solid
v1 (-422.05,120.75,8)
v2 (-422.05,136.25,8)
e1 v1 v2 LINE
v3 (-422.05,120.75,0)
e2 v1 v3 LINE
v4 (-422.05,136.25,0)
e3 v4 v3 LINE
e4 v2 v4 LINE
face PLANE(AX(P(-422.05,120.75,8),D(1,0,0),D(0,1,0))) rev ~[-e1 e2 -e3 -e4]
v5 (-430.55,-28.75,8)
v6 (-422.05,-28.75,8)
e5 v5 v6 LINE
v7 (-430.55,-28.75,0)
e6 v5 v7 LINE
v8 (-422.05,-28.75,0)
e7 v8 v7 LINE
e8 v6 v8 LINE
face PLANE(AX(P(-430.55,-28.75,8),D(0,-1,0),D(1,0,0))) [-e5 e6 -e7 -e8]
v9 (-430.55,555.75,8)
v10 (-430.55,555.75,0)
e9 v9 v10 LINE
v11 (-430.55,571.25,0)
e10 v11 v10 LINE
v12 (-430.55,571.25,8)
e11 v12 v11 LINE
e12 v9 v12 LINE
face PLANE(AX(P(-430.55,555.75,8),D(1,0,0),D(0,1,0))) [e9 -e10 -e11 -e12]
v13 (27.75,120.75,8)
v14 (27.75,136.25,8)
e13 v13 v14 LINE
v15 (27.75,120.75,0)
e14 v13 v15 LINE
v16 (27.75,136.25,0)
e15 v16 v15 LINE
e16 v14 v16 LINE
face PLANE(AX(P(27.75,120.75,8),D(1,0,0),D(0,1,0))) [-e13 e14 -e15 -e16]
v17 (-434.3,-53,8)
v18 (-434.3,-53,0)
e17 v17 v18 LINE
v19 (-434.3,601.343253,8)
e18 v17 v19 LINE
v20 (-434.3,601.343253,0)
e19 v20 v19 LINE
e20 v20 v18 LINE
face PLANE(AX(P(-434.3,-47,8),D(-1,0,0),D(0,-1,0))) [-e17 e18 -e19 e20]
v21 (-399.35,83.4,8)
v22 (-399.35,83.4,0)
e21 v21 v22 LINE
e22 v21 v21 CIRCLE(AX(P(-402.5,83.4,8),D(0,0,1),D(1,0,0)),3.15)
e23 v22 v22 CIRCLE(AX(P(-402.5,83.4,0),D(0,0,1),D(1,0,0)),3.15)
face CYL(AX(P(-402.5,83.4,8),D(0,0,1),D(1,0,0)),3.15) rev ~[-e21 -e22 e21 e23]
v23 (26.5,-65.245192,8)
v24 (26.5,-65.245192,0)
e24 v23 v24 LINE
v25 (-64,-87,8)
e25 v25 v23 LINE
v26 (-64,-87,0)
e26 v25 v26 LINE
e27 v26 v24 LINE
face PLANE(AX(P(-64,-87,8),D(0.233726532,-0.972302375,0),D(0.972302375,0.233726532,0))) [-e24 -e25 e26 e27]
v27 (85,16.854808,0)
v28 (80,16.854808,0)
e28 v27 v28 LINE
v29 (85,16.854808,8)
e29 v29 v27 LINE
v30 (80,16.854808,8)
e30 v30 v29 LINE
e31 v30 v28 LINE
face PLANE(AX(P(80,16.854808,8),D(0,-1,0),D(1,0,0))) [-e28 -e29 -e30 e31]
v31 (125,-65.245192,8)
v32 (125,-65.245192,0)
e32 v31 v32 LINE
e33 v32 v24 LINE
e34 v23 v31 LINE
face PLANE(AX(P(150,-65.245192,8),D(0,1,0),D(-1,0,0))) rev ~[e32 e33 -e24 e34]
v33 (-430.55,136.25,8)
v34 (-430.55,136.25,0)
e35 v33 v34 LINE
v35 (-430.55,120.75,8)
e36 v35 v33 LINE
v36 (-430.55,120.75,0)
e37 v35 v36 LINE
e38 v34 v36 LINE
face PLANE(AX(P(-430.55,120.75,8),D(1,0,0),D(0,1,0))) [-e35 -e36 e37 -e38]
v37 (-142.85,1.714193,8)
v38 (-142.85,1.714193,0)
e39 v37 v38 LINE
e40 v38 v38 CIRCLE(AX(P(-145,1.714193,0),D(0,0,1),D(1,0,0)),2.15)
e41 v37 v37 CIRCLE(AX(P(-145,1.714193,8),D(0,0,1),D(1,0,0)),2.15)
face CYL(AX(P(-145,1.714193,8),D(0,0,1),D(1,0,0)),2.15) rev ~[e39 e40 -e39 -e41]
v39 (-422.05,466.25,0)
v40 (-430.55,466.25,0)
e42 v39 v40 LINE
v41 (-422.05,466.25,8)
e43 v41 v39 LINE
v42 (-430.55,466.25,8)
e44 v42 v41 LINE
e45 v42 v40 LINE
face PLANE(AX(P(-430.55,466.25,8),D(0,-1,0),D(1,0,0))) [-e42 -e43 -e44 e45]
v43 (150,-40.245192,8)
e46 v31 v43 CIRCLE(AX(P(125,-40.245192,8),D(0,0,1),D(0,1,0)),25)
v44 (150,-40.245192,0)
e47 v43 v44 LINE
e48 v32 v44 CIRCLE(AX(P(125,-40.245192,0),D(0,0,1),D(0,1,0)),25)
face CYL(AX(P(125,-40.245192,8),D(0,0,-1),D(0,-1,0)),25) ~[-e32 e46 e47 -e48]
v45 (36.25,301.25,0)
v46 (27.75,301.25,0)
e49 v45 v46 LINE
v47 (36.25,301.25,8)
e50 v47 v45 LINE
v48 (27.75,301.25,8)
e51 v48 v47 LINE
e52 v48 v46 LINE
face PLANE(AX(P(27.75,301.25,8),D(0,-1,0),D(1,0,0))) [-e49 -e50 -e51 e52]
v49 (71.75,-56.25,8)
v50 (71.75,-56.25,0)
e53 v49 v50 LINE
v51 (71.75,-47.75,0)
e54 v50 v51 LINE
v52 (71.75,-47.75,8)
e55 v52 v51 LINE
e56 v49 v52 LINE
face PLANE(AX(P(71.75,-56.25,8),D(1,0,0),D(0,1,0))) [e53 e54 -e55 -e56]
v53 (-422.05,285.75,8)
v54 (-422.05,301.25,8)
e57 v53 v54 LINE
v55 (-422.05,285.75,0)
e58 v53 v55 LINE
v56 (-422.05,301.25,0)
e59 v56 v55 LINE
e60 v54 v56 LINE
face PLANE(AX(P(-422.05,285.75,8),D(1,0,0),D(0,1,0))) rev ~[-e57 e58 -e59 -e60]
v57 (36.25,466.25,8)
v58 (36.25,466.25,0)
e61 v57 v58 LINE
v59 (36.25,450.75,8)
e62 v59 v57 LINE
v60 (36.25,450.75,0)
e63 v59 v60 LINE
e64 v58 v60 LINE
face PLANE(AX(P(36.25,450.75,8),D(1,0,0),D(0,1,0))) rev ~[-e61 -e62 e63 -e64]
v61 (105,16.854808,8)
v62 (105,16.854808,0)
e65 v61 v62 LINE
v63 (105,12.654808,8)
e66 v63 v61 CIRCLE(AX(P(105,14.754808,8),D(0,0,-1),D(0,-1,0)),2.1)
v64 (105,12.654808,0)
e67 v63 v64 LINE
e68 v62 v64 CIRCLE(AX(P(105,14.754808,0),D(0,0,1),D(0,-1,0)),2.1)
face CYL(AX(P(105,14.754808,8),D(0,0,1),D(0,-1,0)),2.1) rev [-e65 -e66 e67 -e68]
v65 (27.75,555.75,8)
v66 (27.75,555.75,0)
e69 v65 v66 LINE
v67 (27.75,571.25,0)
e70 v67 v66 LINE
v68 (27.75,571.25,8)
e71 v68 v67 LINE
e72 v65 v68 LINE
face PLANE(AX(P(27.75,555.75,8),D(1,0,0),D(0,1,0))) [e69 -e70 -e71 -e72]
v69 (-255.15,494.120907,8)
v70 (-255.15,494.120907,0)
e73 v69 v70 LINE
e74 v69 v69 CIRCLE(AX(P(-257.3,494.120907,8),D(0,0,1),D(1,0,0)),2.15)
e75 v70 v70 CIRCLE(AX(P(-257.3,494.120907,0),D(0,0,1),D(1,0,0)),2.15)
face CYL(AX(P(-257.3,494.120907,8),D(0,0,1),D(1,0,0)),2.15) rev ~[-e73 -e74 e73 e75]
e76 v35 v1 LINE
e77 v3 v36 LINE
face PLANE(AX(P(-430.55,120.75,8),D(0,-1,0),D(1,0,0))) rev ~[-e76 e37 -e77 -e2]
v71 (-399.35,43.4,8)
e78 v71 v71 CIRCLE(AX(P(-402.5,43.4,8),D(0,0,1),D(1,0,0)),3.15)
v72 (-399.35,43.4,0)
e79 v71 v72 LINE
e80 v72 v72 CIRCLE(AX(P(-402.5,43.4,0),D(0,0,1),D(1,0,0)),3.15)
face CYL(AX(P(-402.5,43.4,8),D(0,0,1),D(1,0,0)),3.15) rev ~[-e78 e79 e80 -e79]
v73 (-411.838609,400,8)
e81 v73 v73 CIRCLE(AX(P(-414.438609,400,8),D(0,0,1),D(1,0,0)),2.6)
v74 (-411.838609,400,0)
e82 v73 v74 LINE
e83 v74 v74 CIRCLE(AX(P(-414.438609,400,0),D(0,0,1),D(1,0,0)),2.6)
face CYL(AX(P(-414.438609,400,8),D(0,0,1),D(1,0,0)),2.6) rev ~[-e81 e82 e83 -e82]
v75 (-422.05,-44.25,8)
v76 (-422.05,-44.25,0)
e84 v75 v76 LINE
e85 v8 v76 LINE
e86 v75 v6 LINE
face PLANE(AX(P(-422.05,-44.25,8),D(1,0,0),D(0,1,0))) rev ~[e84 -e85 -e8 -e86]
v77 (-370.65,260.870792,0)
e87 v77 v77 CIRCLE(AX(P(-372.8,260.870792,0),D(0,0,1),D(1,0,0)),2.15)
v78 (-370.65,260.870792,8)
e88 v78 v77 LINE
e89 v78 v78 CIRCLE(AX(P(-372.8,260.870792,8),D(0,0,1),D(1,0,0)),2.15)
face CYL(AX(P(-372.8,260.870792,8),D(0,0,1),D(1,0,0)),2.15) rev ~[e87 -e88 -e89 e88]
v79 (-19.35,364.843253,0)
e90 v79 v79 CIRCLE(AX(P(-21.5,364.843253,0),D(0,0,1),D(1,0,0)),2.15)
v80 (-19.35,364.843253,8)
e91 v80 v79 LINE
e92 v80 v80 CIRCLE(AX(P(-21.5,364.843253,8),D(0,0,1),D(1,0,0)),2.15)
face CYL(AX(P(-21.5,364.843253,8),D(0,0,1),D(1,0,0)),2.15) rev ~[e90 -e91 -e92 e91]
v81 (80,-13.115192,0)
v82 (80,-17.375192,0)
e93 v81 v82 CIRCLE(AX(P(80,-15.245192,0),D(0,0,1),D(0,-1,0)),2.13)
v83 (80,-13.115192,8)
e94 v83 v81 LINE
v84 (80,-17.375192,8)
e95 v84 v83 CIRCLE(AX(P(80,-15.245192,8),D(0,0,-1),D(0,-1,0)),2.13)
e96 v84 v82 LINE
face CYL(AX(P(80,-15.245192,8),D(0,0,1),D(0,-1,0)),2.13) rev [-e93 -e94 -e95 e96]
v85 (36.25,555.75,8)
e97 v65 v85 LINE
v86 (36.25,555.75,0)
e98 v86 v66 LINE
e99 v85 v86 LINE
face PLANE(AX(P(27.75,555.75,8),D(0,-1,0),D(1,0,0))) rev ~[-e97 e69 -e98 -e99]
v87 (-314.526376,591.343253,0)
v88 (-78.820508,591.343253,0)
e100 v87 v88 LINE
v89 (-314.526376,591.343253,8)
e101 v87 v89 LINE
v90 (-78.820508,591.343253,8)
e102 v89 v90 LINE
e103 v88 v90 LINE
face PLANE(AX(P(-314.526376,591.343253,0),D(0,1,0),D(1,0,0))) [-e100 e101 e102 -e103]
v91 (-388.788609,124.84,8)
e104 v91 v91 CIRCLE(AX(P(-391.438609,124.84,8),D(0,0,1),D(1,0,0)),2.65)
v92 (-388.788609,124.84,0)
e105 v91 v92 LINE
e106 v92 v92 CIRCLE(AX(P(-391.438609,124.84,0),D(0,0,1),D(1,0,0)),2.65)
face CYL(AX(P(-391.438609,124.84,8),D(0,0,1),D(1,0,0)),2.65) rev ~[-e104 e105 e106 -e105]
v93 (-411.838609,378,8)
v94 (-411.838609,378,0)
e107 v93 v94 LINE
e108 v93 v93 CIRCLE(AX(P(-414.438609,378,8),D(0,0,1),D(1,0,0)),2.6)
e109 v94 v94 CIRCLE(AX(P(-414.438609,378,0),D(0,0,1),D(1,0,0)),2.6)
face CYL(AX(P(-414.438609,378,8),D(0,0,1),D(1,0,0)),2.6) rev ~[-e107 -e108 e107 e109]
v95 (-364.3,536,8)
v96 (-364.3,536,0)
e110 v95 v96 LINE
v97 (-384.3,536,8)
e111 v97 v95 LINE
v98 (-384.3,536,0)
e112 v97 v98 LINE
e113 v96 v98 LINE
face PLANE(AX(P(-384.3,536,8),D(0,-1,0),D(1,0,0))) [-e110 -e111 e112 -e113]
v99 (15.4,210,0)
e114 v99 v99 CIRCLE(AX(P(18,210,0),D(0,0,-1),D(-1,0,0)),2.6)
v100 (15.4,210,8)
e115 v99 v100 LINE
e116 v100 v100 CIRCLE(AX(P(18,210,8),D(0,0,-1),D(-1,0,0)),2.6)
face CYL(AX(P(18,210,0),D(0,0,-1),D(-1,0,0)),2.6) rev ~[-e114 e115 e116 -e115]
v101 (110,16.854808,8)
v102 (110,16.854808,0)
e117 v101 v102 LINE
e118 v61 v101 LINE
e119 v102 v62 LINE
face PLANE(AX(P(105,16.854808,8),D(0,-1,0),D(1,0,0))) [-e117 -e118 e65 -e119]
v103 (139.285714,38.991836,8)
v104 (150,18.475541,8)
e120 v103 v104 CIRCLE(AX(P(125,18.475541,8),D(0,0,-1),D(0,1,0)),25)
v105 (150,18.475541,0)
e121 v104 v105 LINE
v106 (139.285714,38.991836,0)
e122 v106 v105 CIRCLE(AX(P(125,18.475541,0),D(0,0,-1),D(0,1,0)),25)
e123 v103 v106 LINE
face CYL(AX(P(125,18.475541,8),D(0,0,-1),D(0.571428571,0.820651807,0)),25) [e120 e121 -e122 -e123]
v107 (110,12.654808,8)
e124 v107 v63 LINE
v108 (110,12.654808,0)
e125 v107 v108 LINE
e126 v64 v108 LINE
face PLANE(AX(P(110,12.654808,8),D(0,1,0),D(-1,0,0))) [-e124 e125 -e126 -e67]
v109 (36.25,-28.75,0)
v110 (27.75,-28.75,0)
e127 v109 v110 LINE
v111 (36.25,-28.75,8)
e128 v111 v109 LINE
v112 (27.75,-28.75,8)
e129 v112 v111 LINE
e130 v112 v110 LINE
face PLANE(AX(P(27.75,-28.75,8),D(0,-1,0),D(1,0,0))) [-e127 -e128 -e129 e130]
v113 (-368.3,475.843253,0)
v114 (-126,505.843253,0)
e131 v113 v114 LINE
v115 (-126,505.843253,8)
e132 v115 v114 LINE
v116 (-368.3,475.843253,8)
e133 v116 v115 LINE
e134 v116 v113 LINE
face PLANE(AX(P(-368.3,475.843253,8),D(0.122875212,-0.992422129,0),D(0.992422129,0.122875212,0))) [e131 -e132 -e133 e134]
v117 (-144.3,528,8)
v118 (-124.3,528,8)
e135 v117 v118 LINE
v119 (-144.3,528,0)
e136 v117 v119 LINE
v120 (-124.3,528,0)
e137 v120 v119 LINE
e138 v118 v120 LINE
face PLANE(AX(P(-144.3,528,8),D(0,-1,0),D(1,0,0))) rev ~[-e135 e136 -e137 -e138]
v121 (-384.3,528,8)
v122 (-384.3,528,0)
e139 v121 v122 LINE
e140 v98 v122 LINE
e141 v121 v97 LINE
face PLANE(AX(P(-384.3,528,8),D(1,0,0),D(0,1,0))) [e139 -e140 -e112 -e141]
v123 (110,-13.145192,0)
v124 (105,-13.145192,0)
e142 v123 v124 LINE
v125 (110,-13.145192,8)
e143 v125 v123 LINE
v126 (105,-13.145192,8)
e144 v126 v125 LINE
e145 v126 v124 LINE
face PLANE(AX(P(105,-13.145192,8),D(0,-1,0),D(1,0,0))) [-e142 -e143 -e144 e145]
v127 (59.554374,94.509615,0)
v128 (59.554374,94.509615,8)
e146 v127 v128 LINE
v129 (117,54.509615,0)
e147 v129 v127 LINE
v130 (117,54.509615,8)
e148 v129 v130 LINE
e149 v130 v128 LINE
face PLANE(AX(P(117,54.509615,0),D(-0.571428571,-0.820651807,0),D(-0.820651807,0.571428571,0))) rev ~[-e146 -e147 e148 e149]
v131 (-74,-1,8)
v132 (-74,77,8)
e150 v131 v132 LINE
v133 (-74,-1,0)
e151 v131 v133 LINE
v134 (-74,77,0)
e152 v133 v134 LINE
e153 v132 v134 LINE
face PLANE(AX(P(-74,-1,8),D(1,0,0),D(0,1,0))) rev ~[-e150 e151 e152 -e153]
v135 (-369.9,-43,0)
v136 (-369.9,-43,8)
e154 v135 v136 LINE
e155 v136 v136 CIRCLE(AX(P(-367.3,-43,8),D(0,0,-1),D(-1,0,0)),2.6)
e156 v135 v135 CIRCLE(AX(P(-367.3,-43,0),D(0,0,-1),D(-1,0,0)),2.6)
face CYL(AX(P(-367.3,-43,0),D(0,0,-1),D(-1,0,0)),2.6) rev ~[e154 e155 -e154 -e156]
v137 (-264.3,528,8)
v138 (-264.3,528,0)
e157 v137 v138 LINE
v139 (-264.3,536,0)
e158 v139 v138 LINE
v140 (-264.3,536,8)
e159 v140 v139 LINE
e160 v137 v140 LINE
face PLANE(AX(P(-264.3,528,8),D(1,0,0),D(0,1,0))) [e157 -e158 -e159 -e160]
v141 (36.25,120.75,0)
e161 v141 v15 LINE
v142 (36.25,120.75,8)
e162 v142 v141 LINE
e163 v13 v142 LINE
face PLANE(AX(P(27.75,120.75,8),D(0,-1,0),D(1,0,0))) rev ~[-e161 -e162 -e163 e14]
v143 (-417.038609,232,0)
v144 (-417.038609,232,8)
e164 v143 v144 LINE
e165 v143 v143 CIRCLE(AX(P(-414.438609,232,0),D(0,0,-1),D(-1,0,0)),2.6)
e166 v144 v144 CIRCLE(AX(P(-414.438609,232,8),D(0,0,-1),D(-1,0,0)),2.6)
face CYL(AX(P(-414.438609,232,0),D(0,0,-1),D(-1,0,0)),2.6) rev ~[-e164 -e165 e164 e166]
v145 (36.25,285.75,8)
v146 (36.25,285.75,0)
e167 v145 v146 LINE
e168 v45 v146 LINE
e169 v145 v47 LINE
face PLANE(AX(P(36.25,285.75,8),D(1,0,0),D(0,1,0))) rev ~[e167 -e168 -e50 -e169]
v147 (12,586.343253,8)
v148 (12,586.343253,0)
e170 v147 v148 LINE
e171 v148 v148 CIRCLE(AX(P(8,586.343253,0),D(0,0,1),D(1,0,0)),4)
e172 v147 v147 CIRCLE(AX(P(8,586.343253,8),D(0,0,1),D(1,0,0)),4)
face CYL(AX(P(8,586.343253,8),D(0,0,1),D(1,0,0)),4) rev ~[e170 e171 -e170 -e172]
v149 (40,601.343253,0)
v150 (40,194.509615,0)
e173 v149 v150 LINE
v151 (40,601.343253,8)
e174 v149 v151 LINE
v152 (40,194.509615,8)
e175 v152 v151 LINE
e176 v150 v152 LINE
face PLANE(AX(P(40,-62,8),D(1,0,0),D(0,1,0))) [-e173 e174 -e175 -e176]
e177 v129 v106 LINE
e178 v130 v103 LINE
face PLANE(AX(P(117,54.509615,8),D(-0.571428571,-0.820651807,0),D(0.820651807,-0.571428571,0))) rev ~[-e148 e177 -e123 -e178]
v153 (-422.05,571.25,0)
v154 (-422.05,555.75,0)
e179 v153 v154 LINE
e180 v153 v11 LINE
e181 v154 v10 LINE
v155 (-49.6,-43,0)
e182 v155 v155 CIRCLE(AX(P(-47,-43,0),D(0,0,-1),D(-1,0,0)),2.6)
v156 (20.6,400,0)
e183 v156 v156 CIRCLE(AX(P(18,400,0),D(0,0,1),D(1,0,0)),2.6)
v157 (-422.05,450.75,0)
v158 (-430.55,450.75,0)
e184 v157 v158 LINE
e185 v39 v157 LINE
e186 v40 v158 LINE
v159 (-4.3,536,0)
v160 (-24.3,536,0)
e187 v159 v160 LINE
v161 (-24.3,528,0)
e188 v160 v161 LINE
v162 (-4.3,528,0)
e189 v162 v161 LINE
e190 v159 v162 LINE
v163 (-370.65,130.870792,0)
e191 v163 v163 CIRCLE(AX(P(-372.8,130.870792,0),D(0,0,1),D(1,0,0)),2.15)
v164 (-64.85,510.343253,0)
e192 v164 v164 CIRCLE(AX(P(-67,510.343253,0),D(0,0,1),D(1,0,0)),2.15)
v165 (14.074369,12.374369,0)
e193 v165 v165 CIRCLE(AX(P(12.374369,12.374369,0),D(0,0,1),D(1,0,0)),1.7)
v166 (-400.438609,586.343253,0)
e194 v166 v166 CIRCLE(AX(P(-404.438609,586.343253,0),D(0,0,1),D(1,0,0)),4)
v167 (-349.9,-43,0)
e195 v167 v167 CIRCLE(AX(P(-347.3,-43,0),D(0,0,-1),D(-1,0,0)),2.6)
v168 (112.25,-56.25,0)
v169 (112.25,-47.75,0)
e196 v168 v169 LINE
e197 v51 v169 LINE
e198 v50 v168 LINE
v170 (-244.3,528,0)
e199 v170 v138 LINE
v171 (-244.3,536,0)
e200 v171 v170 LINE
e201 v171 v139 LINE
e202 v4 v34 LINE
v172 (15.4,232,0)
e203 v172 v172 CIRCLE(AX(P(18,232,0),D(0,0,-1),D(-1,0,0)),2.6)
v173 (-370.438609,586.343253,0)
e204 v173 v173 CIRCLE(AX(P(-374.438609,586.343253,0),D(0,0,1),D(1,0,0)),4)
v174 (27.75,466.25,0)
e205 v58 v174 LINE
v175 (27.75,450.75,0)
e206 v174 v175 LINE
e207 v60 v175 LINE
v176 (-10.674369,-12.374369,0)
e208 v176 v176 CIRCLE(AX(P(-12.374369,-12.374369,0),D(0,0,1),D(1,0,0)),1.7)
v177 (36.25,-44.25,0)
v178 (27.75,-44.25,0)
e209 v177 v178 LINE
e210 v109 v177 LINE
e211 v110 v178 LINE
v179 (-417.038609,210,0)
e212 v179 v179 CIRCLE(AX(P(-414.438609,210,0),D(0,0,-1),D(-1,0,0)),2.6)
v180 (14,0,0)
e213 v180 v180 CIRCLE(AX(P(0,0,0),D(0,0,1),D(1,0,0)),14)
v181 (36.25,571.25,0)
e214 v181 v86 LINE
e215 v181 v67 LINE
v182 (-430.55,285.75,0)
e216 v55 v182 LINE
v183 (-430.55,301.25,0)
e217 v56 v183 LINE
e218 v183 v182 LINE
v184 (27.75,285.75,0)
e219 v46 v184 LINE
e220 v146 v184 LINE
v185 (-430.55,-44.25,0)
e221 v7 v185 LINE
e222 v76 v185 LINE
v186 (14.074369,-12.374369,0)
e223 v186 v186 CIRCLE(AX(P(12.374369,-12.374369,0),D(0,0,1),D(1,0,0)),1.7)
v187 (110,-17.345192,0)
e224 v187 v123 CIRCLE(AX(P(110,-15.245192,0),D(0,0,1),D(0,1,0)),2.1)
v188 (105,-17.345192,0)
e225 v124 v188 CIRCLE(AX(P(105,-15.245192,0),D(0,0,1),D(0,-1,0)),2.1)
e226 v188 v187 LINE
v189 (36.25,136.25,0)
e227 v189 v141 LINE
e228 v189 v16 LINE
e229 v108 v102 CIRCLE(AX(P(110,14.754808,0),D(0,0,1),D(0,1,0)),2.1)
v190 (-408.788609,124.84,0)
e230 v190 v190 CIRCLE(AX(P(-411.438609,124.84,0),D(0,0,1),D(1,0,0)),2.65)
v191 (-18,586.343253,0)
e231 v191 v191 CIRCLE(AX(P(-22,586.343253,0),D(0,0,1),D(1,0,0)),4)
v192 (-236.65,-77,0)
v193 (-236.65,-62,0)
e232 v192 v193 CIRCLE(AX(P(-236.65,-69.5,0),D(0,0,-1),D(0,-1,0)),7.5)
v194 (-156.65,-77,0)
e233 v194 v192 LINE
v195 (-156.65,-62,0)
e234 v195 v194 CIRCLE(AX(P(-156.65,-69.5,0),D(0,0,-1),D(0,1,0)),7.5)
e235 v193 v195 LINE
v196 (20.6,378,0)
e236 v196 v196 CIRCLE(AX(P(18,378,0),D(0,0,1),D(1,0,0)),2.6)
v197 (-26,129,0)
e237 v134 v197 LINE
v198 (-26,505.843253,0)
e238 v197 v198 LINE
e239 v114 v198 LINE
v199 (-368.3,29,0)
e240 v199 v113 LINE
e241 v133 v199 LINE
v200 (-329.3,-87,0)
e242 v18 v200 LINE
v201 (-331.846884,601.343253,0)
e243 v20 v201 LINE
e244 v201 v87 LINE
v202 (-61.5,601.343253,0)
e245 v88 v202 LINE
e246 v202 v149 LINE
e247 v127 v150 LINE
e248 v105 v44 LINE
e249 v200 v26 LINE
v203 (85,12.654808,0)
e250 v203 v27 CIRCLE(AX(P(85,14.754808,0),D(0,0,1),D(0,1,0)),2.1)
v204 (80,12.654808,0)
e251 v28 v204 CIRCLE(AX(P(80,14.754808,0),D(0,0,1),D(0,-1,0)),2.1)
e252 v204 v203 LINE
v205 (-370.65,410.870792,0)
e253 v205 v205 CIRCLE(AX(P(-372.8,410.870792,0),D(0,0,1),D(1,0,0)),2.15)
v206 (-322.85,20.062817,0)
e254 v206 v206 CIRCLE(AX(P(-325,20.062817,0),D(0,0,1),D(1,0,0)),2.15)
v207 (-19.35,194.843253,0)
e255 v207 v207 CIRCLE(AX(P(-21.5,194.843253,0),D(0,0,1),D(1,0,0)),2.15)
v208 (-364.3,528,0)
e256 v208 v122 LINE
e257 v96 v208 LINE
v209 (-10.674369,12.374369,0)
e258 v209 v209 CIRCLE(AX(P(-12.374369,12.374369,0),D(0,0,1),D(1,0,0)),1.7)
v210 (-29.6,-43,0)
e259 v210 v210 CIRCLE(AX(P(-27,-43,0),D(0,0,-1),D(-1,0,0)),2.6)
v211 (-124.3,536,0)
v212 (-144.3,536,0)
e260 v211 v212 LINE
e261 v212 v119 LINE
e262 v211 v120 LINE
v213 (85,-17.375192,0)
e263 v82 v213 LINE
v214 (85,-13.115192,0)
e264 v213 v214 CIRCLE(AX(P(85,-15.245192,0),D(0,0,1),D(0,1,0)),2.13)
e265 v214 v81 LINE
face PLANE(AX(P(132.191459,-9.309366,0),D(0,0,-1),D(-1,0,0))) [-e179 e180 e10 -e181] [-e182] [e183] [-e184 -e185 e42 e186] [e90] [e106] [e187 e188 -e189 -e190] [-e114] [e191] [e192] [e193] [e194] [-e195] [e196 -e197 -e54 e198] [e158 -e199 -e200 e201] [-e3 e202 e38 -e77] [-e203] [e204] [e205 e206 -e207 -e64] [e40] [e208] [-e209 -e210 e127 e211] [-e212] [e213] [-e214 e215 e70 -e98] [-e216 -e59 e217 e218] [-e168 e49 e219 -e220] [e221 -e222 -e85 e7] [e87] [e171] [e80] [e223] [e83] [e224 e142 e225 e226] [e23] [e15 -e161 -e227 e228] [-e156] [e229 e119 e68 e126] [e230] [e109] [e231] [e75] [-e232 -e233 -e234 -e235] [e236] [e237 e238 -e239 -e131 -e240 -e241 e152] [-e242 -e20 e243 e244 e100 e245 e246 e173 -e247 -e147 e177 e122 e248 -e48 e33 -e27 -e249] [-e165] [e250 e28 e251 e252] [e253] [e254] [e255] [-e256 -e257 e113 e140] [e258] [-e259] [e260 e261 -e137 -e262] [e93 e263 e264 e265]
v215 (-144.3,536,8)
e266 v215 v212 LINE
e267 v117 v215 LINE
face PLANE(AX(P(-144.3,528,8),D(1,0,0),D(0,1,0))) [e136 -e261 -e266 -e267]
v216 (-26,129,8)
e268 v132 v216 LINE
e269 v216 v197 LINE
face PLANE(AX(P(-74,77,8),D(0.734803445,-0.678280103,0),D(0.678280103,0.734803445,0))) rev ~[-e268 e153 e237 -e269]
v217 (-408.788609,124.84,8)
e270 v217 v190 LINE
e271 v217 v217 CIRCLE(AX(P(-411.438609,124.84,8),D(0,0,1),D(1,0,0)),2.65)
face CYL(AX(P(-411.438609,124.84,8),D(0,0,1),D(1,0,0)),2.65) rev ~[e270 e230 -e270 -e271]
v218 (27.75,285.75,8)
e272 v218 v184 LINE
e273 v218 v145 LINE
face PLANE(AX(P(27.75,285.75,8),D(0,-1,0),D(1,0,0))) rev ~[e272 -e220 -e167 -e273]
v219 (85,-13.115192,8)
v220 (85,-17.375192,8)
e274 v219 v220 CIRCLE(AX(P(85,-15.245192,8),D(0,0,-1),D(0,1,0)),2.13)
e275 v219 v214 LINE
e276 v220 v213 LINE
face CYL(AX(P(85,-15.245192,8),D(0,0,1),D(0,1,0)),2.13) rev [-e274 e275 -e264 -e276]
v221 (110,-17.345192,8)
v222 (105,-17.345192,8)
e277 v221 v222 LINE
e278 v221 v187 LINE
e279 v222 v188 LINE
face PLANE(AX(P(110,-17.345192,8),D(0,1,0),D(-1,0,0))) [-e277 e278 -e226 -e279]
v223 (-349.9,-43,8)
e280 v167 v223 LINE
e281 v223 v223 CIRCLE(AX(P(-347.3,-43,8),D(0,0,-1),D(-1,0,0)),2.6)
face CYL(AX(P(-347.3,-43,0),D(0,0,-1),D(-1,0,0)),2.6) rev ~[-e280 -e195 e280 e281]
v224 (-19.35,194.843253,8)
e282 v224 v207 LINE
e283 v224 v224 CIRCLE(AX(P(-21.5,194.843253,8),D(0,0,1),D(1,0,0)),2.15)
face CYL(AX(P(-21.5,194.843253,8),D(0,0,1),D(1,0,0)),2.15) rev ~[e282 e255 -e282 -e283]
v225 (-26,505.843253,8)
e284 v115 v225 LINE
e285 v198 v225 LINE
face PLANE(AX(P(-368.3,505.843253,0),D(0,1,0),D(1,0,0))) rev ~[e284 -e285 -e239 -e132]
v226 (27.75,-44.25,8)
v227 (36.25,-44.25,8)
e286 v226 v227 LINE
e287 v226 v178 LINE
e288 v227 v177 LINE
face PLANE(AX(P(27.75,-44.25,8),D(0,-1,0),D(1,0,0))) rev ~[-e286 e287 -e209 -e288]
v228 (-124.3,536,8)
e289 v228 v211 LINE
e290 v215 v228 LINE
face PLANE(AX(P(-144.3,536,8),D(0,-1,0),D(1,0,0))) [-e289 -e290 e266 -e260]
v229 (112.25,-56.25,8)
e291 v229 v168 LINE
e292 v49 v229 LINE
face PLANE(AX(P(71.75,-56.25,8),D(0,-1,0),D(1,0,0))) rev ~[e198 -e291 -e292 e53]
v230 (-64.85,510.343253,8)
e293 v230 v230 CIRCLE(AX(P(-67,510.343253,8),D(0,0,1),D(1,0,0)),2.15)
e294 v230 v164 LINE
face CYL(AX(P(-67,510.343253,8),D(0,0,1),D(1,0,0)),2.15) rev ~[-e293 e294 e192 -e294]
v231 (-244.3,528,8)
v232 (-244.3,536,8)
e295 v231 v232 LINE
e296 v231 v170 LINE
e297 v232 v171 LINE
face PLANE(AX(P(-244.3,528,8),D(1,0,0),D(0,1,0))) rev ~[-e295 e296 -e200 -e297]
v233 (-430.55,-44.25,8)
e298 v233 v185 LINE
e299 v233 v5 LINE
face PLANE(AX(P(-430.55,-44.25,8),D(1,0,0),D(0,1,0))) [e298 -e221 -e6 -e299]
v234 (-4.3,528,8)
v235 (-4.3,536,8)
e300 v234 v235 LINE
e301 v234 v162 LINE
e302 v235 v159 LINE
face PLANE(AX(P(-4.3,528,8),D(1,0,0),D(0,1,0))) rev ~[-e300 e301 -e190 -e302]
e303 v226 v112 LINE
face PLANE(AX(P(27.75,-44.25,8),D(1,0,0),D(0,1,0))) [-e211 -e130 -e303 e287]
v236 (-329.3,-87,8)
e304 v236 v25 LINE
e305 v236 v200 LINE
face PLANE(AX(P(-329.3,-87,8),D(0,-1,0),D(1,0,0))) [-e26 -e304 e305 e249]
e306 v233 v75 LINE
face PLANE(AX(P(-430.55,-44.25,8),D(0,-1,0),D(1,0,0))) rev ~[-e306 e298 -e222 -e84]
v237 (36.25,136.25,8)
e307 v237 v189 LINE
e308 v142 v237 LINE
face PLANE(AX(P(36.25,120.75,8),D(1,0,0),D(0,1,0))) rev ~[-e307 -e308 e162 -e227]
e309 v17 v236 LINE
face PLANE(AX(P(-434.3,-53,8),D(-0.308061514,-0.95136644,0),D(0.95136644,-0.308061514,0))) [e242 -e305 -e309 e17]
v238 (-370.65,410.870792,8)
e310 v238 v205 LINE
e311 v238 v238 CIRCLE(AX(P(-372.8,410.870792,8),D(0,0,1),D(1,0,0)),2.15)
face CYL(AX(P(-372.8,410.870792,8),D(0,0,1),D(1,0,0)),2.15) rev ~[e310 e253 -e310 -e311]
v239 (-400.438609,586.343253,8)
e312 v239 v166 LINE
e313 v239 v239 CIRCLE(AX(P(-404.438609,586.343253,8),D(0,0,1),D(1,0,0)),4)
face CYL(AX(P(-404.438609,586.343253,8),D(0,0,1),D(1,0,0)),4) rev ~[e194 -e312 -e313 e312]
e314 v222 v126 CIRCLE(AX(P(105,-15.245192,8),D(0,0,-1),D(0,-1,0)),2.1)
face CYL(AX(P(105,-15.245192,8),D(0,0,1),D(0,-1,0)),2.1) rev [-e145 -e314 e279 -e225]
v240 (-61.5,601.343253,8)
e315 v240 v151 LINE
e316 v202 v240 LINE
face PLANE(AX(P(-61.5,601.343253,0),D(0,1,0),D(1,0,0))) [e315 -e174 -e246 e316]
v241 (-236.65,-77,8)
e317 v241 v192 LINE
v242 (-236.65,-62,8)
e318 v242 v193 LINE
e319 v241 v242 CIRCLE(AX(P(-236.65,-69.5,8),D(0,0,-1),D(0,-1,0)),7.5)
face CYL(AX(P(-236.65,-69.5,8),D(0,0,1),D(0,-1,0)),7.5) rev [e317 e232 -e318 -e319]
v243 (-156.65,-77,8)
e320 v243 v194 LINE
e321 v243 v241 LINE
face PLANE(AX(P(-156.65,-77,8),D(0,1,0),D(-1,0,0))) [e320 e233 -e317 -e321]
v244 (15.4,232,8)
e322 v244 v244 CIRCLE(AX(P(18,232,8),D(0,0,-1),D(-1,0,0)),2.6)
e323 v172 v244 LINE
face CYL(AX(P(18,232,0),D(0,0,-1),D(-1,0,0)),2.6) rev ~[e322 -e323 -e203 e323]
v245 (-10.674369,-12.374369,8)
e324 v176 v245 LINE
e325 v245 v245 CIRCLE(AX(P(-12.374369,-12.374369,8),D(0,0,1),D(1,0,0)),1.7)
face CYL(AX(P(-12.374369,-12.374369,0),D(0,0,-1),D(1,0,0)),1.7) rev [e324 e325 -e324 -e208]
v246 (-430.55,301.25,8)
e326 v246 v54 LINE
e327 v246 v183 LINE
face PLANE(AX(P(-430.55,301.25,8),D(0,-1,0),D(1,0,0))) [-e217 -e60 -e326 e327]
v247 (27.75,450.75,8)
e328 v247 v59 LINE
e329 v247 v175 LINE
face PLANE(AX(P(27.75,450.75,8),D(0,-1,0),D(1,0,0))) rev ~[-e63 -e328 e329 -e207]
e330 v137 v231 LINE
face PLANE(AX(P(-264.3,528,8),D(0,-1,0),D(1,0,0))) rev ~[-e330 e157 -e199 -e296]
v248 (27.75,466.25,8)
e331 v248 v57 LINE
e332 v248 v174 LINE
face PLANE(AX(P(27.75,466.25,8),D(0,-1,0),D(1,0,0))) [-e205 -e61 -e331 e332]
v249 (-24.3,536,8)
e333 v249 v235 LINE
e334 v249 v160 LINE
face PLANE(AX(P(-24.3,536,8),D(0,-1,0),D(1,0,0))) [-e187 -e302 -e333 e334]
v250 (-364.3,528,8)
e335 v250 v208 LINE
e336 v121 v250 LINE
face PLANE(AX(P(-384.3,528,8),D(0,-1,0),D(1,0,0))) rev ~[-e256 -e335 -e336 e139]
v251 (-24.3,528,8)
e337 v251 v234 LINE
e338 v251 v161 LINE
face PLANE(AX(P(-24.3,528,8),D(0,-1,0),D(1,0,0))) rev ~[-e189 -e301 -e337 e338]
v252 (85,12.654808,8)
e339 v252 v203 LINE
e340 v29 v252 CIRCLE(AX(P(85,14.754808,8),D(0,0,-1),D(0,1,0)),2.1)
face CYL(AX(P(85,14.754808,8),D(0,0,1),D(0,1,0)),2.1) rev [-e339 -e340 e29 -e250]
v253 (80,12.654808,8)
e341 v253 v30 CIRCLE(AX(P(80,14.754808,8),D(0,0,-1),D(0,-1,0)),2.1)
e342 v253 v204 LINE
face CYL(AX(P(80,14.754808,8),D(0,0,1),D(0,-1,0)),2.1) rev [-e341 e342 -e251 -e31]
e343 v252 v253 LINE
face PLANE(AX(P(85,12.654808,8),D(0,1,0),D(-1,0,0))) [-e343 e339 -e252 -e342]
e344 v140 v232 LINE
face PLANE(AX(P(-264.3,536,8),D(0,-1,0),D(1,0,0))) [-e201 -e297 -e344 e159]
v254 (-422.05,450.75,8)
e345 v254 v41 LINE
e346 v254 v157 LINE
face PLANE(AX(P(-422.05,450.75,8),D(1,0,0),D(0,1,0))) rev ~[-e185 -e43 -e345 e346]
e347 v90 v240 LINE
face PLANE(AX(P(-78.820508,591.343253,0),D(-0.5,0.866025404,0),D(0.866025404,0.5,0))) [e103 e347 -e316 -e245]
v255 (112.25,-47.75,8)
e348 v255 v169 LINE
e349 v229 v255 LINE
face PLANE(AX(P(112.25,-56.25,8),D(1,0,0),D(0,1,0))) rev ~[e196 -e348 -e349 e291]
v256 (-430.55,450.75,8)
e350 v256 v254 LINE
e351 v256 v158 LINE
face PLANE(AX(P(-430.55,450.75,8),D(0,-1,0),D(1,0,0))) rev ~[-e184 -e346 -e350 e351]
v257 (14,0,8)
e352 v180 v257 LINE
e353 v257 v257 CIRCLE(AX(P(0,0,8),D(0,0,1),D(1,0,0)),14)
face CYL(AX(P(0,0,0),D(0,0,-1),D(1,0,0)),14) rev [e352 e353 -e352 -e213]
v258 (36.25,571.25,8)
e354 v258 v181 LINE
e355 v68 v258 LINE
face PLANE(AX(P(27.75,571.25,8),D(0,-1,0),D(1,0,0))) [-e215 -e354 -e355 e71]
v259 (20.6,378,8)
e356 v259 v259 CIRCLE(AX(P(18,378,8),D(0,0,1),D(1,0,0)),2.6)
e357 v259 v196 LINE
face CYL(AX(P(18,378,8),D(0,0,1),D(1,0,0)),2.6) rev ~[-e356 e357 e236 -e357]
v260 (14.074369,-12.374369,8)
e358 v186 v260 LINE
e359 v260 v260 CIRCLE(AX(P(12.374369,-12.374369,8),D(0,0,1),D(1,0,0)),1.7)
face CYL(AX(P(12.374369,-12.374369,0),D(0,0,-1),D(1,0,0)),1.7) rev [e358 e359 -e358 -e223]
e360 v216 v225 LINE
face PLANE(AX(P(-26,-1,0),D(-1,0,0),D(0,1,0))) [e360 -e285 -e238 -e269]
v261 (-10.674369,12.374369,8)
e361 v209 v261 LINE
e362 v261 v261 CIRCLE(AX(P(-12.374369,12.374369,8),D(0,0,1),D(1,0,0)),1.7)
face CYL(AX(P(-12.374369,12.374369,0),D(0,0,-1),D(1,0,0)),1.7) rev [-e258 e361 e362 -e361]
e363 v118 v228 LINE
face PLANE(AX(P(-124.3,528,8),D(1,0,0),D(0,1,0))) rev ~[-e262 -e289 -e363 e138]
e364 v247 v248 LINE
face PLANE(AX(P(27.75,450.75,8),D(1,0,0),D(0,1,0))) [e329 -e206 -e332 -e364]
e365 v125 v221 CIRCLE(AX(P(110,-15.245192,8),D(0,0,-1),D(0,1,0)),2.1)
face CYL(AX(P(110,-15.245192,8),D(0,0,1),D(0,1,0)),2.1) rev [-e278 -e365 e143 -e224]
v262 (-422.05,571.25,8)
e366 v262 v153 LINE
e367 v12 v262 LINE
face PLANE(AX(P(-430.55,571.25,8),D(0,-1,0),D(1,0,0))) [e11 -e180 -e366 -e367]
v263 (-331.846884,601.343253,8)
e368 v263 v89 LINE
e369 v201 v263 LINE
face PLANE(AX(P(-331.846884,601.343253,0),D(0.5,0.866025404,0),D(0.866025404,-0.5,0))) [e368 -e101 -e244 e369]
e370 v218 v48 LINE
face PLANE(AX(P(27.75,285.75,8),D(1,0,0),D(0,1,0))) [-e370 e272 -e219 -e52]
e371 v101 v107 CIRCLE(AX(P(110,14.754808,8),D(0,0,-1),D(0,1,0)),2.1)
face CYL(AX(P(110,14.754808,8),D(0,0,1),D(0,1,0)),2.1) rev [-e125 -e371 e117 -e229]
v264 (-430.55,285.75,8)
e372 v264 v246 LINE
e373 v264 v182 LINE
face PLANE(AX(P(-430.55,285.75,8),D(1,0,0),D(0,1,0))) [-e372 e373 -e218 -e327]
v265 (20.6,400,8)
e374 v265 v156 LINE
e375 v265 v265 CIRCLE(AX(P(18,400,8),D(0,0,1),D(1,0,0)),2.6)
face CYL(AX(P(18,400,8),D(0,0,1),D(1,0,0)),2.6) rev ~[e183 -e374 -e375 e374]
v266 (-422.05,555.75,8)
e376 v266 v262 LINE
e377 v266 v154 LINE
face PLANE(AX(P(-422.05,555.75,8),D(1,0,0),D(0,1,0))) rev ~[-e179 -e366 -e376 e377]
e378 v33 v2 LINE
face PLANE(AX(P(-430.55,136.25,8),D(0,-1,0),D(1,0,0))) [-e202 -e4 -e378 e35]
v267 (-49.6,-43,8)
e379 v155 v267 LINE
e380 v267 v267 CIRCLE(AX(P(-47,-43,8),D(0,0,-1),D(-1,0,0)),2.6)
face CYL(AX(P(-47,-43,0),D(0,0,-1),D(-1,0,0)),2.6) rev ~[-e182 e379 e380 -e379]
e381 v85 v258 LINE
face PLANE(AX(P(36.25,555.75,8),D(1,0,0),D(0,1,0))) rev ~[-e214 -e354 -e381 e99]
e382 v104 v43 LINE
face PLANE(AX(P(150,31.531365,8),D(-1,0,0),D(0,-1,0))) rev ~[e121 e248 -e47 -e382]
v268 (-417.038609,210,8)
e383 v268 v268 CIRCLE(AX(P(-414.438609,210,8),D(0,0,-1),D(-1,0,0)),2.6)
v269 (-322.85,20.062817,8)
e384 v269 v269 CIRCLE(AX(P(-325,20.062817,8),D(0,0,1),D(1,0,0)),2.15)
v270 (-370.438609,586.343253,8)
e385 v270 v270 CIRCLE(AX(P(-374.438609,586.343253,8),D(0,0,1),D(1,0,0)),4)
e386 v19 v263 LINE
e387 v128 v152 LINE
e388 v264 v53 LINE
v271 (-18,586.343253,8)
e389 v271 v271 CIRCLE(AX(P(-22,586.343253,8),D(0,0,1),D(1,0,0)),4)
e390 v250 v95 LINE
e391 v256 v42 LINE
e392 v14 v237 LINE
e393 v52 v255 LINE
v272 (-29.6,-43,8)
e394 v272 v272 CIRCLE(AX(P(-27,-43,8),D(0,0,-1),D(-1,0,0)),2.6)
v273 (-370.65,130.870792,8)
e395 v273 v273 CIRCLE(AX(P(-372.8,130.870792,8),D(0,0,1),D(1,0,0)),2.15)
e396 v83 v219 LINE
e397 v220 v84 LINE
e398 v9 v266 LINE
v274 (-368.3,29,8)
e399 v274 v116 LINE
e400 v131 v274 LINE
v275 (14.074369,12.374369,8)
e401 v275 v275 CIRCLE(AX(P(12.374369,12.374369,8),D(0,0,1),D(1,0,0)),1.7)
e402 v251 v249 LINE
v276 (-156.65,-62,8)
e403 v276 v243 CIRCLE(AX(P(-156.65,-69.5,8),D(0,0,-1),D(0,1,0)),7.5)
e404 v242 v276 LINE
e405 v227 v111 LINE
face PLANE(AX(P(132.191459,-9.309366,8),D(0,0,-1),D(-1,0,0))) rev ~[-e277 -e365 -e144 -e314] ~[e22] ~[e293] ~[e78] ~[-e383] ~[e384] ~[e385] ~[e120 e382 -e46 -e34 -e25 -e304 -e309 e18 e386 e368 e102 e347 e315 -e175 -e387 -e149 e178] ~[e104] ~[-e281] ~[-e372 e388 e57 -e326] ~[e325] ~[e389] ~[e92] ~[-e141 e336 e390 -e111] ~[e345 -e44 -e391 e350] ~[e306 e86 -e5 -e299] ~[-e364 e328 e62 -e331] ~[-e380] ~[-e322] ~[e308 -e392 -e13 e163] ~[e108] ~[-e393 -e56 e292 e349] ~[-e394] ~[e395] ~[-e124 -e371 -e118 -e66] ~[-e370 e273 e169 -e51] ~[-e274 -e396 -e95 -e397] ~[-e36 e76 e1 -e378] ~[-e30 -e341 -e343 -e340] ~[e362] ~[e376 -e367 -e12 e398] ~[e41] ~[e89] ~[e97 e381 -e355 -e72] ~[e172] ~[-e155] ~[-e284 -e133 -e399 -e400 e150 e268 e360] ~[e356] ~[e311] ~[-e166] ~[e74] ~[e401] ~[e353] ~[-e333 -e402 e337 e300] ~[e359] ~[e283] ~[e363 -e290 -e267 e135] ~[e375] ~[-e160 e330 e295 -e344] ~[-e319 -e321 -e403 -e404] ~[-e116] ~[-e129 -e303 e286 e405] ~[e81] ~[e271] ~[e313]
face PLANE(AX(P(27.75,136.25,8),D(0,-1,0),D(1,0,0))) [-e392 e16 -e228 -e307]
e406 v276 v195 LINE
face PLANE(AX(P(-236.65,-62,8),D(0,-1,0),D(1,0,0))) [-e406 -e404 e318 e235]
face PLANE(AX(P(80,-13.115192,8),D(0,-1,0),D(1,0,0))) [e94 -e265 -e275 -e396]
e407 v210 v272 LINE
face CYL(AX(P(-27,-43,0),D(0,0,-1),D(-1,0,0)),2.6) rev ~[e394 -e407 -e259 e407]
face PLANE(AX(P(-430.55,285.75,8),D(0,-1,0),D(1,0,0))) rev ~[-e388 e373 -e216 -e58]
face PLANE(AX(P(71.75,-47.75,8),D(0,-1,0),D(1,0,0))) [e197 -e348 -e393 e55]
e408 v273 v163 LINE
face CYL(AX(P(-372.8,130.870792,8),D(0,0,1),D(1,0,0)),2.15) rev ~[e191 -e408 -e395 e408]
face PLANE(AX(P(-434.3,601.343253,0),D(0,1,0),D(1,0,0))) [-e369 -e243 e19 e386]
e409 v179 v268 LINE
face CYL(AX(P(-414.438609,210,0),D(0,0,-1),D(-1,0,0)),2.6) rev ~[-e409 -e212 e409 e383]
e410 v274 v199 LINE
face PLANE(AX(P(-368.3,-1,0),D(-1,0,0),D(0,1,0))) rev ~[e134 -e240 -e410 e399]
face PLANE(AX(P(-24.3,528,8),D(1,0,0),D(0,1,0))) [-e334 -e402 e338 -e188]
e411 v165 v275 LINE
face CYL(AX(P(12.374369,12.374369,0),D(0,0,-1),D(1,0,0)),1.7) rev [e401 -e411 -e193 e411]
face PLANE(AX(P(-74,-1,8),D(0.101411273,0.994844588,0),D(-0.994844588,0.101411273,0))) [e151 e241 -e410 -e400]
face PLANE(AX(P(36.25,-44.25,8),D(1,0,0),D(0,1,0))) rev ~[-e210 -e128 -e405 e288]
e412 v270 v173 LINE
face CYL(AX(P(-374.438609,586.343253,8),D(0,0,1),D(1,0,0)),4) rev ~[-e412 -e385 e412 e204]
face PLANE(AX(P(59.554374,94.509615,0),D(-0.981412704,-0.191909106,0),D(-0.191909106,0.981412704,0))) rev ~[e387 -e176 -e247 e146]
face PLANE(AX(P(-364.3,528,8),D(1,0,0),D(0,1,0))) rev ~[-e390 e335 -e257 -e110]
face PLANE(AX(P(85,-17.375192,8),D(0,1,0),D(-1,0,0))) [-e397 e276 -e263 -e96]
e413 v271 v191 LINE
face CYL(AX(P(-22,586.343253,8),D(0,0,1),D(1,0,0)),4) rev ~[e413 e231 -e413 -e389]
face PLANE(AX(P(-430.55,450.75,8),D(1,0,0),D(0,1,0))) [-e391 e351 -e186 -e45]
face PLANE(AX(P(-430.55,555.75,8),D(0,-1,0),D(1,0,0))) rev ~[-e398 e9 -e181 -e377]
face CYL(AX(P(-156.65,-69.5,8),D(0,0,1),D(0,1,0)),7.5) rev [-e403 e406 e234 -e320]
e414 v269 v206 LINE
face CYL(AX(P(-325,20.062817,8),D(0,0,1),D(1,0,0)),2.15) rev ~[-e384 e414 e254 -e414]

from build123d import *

# Parameters (mm, degrees)
ESQUISSE1_R              = 1.7
ESQUISSE1_R_2            = 14
ESQUISSE1_W              = 342.3
ESQUISSE1_H              = 506.843253
BOSS_EXTRU_1_DEPTH       = 8
ESQUISSE2_W              = 20
ESQUISSE2_H              = 8
ENL_V_MAT_EXTRU_1_DEPTH  = 10
ESQUISSE4_W              = 8.5
ESQUISSE4_H              = 15.5
ENL_V_MAT_EXTRU_2_DEPTH  = 10
ESQUISSE5_W              = 8.5
ESQUISSE5_H              = 15.5
ENL_V_MAT_EXTRU_3_DEPTH  = 10
ESQUISSE6_R              = 3.15
ESQUISSE6_R_2            = 2.65
ENL_V_MAT_EXTRU_4_DEPTH  = 10
BOSS_EXTRU_2_DEPTH       = 8
BOSS_EXTRU_3_DEPTH       = 8
BOSS_EXTRU_4_DEPTH       = 8
BOSS_EXTRU_5_DEPTH       = 8
ESQUISSE13_W             = 40.5
ESQUISSE13_H             = 8.5
ENL_V_MAT_EXTRU_6_DEPTH  = 10
ESQUISSE15_R             = 2.6
ENL_V_MAT_EXTRU_7_DEPTH  = 10
BOSS_EXTRU_6_DEPTH       = 8
CONG_1_R                 = 25
ESQUISSE17_R             = 4
ENL_V_MAT_EXTRU_8_DEPTH  = 10
ENL_V_MAT_EXTRU_9_DEPTH  = 10
ESQUISSE20_R             = 2.15
ENL_V_MAT_EXTRU_10_DEPTH = 30
ESQUISSE21_R             = 2.6
ENL_V_MAT_EXTRU_11_DEPTH = 11
ESQUISSE22_R             = 2.6
ENL_V_MAT_EXTRU_12_DEPTH = 10


with BuildPart() as part:
    # Esquisse1 → Boss.-Extru.1 (new body)
    with BuildSketch(Plane.XY):
        Polygon((40, -47), (-434.3, -47), (-434.3, 601.343253), (-331.846883663, 601.343253), (-314.526375587, 591.343253), (-78.820508076, 591.343253), (-61.5, 601.343253), (40, 601.343253), align=None)
        with Locations((-12.374368671, 12.374368671)):
            Circle(ESQUISSE1_R, mode=Mode.SUBTRACT)
        with Locations((12.374368671, 12.374368671)):
            Circle(ESQUISSE1_R, mode=Mode.SUBTRACT)
        with Locations((-12.374368671, -12.374368671)):
            Circle(ESQUISSE1_R, mode=Mode.SUBTRACT)
        with Locations((12.374368671, -12.374368671)):
            Circle(ESQUISSE1_R, mode=Mode.SUBTRACT)
        Circle(ESQUISSE1_R_2, mode=Mode.SUBTRACT)
        with Locations((-197.15, 252.4216265)):
            Rectangle(ESQUISSE1_W, ESQUISSE1_H, mode=Mode.SUBTRACT)
    extrude(amount=BOSS_EXTRU_1_DEPTH)

    # Esquisse2 → Enlèv. mat.-Extru.1 (cut)
    with BuildSketch(Plane.XY.offset(8)):
        with Locations((-254.3, 532)):
            Rectangle(ESQUISSE2_W, ESQUISSE2_H)
        with Locations((-374.3, 532)):
            Rectangle(ESQUISSE2_W, ESQUISSE2_H)
        with Locations((-134.3, 532)):
            Rectangle(ESQUISSE2_W, ESQUISSE2_H)
        with Locations((-14.3, 532)):
            Rectangle(ESQUISSE2_W, ESQUISSE2_H)
    extrude(amount=-ENL_V_MAT_EXTRU_1_DEPTH, mode=Mode.SUBTRACT)

    # Esquisse4 → Enlèv. mat.-Extru.2 (cut)
    with BuildSketch(Plane.XY.offset(8)):
        with Locations((32, -36.5)):
            Rectangle(ESQUISSE4_W, ESQUISSE4_H)
        with Locations((32, 128.5)):
            Rectangle(ESQUISSE4_W, ESQUISSE4_H)
        with Locations((32, 293.5)):
            Rectangle(ESQUISSE4_W, ESQUISSE4_H)
        with Locations((32, 458.5)):
            Rectangle(ESQUISSE4_W, ESQUISSE4_H)
        with Locations((32, 563.5)):
            Rectangle(ESQUISSE4_W, ESQUISSE4_H)
    extrude(amount=-ENL_V_MAT_EXTRU_2_DEPTH, mode=Mode.SUBTRACT)

    # Esquisse5 → Enlèv. mat.-Extru.3 (cut)
    with BuildSketch(Plane.XY.offset(8)):
        with Locations((-426.3, 458.5)):
            Rectangle(ESQUISSE5_W, ESQUISSE5_H)
        with Locations((-426.3, 293.5)):
            Rectangle(ESQUISSE5_W, ESQUISSE5_H)
        with Locations((-426.3, 128.5)):
            Rectangle(ESQUISSE5_W, ESQUISSE5_H)
        with Locations((-426.3, -36.5)):
            Rectangle(ESQUISSE5_W, ESQUISSE5_H)
        with Locations((-426.3, 563.5)):
            Rectangle(ESQUISSE5_W, ESQUISSE5_H)
    extrude(amount=-ENL_V_MAT_EXTRU_3_DEPTH, mode=Mode.SUBTRACT)

    # Esquisse6 → Enlèv. mat.-Extru.4 (cut)
    with BuildSketch(Plane.XY.offset(8)):
        with Locations((-402.5, 83.4)):
            Circle(ESQUISSE6_R)
        with Locations((-402.5, 43.4)):
            Circle(ESQUISSE6_R)
        with Locations((-391.438608853, 124.84)):
            Circle(ESQUISSE6_R_2)
        with Locations((-411.438608853, 124.84)):
            Circle(ESQUISSE6_R_2)
    extrude(amount=-ENL_V_MAT_EXTRU_4_DEPTH, mode=Mode.SUBTRACT)

    # Esquisse8 → Boss.-Extru.2 (add)
    with BuildSketch(Plane.XY.offset(8)):
        Polygon((-26, -1), (-74, -1), (-74, 77), (-26, 129), align=None)
        Polygon((-368.3, 29), (-368.3, -1), (-74, -1), align=None)
        Polygon((-368.3, 475.843253), (-126, 505.843253), (-368.3, 505.843253), align=None)
    extrude(amount=-BOSS_EXTRU_2_DEPTH)

    # Esquisse9 → Boss.-Extru.3 (add)
    with BuildSketch(Plane.XY.offset(8)):
        Polygon((-434.3, -47), (-434.3, -53), (-329.3, -87), (-64, -87), (40, -62), (40, -47), align=None)
        with BuildLine():
            Line((-236.65, -62), (-156.65, -62))
            ThreePointArc((-156.65, -62), (-149.15, -69.5), (-156.65, -77))
            Line((-156.65, -77), (-236.65, -77))
            ThreePointArc((-236.65, -77), (-244.15, -69.5), (-236.65, -62))
        make_face(mode=Mode.SUBTRACT)
    extrude(amount=-BOSS_EXTRU_3_DEPTH)

    # Esquisse11 → Boss.-Extru.4 (add)
    with BuildSketch(Plane(origin=(0, 0, 0), x_dir=(-1, 0, 0), z_dir=(0, 0, -1))):
        Polygon((-40, -62), (-117, -43.490384615), (-117, 54.509615385), (-59.554373535, 94.509615385), (-40, 194.509615385), align=None)
    extrude(amount=-BOSS_EXTRU_4_DEPTH)

    # Esquisse14 → Boss.-Extru.5 (add)
    with BuildSketch(Plane.XY.offset(8)):
        Polygon((26.5, -65.245192308), (117, -65.245192308), (117, -43.490384615), align=None)
    extrude(amount=-BOSS_EXTRU_5_DEPTH)

    # Esquisse13 → Enlèv. mat.-Extru.6 (cut)
    with BuildSketch(Plane.XY.offset(8)):
        with Locations((92, -52)):
            Rectangle(ESQUISSE13_W, ESQUISSE13_H)
    extrude(amount=-ENL_V_MAT_EXTRU_6_DEPTH, mode=Mode.SUBTRACT)

    # Esquisse15 → Enlèv. mat.-Extru.7 (cut)
    with BuildSketch(Plane.XY.offset(8)):
        with Locations((-414.438608853, 378)):
            Circle(ESQUISSE15_R)
        with Locations((-414.438608853, 400)):
            Circle(ESQUISSE15_R)
        with Locations((18, 400)):
            Circle(ESQUISSE15_R)
        with Locations((18, 378)):
            Circle(ESQUISSE15_R)
    extrude(amount=-ENL_V_MAT_EXTRU_7_DEPTH, mode=Mode.SUBTRACT)

    # Esquisse16 → Boss.-Extru.6 (add)
    with BuildSketch(Plane.XY.offset(8)):
        Polygon((117, 54.509615385), (150, 31.531364798), (150, -65.245192308), (117, -65.245192308), align=None)
    extrude(amount=-BOSS_EXTRU_6_DEPTH)

    # Congé1
    cong_1_edges = [part.edges().sort_by_distance(p)[0] for p in [
        (150, 31.531364798, 4),
        (150, -65.245192308, 4),
    ]]
    fillet(cong_1_edges, radius=CONG_1_R)

    # Esquisse17 → Enlèv. mat.-Extru.8 (cut)
    with BuildSketch(Plane.XY.offset(8)):
        with Locations((-404.438608853, 586.343252998)):
            Circle(ESQUISSE17_R)
        with Locations((-374.438608853, 586.343252998)):
            Circle(ESQUISSE17_R)
        with Locations((-22, 586.343253)):
            Circle(ESQUISSE17_R)
        with Locations((8, 586.343253)):
            Circle(ESQUISSE17_R)
    extrude(amount=-ENL_V_MAT_EXTRU_8_DEPTH, mode=Mode.SUBTRACT)

    # Esquisse19 → Enlèv. mat.-Extru.9 (cut)
    with BuildSketch(Plane.XY.offset(8)):
        with BuildLine():
            Line((110, -17.345192308), (105, -17.345192308))
            ThreePointArc((105, -17.345192308), (102.9, -15.245192308), (105, -13.145192308))
            Line((105, -13.145192308), (110, -13.145192308))
            ThreePointArc((110, -13.145192308), (112.1, -15.245192308), (110, -17.345192308))
        make_face()
        with BuildLine():
            Line((80, -13.115192308), (85, -13.115192308))
            ThreePointArc((85, -13.115192308), (87.13, -15.245192308), (85, -17.375192308))
            Line((85, -17.375192308), (80, -17.375192308))
            ThreePointArc((80, -17.375192308), (77.87, -15.245192308), (80, -13.115192308))
        make_face()
        with BuildLine():
            Line((110, 12.654807692), (105, 12.654807692))
            ThreePointArc((105, 12.654807692), (102.9, 14.754807692), (105, 16.854807692))
            Line((105, 16.854807692), (110, 16.854807692))
            ThreePointArc((110, 16.854807692), (112.1, 14.754807692), (110, 12.654807692))
        make_face()
        with BuildLine():
            Line((80, 16.854807692), (85, 16.854807692))
            ThreePointArc((85, 16.854807692), (87.1, 14.754807692), (85, 12.654807692))
            Line((85, 12.654807692), (80, 12.654807692))
            ThreePointArc((80, 12.654807692), (77.9, 14.754807692), (80, 16.854807692))
        make_face()
    extrude(amount=-ENL_V_MAT_EXTRU_9_DEPTH, mode=Mode.SUBTRACT)

    # Esquisse20 → Enlèv. mat.-Extru.10 (cut)
    with BuildSketch(Plane.XY.offset(8)):
        with Locations((-21.5, 194.843253)):
            Circle(ESQUISSE20_R)
        with Locations((-21.5, 364.843253)):
            Circle(ESQUISSE20_R)
        with Locations((-67, 510.343253)):
            Circle(ESQUISSE20_R)
        with Locations((-257.3, 494.120907239)):
            Circle(ESQUISSE20_R)
        with Locations((-372.8, 410.870792038)):
            Circle(ESQUISSE20_R)
        with Locations((-372.8, 260.870792038)):
            Circle(ESQUISSE20_R)
        with Locations((-372.8, 130.870792038)):
            Circle(ESQUISSE20_R)
        with Locations((-325, 20.062817018)):
            Circle(ESQUISSE20_R)
        with Locations((-145, 1.714193165)):
            Circle(ESQUISSE20_R)
    extrude(amount=-ENL_V_MAT_EXTRU_10_DEPTH, mode=Mode.SUBTRACT)

    # Esquisse21 → Enlèv. mat.-Extru.11 (cut)
    with BuildSketch(Plane(origin=(0, 0, 0), x_dir=(-1, 0, 0), z_dir=(0, 0, -1))):
        with Locations((47, -43)):
            Circle(ESQUISSE21_R)
        with Locations((27, -43)):
            Circle(ESQUISSE21_R)
        with Locations((367.3, -43)):
            Circle(ESQUISSE21_R)
        with Locations((347.3, -43)):
            Circle(ESQUISSE21_R)
    extrude(amount=-ENL_V_MAT_EXTRU_11_DEPTH, mode=Mode.SUBTRACT)

    # Esquisse22 → Enlèv. mat.-Extru.12 (cut)
    with BuildSketch(Plane(origin=(0, 0, 0), x_dir=(-1, 0, 0), z_dir=(0, 0, -1))):
        with Locations((-18, 232)):
            Circle(ESQUISSE22_R)
        with Locations((-18, 210)):
            Circle(ESQUISSE22_R)
        with Locations((414.438608853, 232)):
            Circle(ESQUISSE22_R)
        with Locations((414.438608853, 210)):
            Circle(ESQUISSE22_R)
    extrude(amount=-ENL_V_MAT_EXTRU_12_DEPTH, mode=Mode.SUBTRACT)


solid = part.part
